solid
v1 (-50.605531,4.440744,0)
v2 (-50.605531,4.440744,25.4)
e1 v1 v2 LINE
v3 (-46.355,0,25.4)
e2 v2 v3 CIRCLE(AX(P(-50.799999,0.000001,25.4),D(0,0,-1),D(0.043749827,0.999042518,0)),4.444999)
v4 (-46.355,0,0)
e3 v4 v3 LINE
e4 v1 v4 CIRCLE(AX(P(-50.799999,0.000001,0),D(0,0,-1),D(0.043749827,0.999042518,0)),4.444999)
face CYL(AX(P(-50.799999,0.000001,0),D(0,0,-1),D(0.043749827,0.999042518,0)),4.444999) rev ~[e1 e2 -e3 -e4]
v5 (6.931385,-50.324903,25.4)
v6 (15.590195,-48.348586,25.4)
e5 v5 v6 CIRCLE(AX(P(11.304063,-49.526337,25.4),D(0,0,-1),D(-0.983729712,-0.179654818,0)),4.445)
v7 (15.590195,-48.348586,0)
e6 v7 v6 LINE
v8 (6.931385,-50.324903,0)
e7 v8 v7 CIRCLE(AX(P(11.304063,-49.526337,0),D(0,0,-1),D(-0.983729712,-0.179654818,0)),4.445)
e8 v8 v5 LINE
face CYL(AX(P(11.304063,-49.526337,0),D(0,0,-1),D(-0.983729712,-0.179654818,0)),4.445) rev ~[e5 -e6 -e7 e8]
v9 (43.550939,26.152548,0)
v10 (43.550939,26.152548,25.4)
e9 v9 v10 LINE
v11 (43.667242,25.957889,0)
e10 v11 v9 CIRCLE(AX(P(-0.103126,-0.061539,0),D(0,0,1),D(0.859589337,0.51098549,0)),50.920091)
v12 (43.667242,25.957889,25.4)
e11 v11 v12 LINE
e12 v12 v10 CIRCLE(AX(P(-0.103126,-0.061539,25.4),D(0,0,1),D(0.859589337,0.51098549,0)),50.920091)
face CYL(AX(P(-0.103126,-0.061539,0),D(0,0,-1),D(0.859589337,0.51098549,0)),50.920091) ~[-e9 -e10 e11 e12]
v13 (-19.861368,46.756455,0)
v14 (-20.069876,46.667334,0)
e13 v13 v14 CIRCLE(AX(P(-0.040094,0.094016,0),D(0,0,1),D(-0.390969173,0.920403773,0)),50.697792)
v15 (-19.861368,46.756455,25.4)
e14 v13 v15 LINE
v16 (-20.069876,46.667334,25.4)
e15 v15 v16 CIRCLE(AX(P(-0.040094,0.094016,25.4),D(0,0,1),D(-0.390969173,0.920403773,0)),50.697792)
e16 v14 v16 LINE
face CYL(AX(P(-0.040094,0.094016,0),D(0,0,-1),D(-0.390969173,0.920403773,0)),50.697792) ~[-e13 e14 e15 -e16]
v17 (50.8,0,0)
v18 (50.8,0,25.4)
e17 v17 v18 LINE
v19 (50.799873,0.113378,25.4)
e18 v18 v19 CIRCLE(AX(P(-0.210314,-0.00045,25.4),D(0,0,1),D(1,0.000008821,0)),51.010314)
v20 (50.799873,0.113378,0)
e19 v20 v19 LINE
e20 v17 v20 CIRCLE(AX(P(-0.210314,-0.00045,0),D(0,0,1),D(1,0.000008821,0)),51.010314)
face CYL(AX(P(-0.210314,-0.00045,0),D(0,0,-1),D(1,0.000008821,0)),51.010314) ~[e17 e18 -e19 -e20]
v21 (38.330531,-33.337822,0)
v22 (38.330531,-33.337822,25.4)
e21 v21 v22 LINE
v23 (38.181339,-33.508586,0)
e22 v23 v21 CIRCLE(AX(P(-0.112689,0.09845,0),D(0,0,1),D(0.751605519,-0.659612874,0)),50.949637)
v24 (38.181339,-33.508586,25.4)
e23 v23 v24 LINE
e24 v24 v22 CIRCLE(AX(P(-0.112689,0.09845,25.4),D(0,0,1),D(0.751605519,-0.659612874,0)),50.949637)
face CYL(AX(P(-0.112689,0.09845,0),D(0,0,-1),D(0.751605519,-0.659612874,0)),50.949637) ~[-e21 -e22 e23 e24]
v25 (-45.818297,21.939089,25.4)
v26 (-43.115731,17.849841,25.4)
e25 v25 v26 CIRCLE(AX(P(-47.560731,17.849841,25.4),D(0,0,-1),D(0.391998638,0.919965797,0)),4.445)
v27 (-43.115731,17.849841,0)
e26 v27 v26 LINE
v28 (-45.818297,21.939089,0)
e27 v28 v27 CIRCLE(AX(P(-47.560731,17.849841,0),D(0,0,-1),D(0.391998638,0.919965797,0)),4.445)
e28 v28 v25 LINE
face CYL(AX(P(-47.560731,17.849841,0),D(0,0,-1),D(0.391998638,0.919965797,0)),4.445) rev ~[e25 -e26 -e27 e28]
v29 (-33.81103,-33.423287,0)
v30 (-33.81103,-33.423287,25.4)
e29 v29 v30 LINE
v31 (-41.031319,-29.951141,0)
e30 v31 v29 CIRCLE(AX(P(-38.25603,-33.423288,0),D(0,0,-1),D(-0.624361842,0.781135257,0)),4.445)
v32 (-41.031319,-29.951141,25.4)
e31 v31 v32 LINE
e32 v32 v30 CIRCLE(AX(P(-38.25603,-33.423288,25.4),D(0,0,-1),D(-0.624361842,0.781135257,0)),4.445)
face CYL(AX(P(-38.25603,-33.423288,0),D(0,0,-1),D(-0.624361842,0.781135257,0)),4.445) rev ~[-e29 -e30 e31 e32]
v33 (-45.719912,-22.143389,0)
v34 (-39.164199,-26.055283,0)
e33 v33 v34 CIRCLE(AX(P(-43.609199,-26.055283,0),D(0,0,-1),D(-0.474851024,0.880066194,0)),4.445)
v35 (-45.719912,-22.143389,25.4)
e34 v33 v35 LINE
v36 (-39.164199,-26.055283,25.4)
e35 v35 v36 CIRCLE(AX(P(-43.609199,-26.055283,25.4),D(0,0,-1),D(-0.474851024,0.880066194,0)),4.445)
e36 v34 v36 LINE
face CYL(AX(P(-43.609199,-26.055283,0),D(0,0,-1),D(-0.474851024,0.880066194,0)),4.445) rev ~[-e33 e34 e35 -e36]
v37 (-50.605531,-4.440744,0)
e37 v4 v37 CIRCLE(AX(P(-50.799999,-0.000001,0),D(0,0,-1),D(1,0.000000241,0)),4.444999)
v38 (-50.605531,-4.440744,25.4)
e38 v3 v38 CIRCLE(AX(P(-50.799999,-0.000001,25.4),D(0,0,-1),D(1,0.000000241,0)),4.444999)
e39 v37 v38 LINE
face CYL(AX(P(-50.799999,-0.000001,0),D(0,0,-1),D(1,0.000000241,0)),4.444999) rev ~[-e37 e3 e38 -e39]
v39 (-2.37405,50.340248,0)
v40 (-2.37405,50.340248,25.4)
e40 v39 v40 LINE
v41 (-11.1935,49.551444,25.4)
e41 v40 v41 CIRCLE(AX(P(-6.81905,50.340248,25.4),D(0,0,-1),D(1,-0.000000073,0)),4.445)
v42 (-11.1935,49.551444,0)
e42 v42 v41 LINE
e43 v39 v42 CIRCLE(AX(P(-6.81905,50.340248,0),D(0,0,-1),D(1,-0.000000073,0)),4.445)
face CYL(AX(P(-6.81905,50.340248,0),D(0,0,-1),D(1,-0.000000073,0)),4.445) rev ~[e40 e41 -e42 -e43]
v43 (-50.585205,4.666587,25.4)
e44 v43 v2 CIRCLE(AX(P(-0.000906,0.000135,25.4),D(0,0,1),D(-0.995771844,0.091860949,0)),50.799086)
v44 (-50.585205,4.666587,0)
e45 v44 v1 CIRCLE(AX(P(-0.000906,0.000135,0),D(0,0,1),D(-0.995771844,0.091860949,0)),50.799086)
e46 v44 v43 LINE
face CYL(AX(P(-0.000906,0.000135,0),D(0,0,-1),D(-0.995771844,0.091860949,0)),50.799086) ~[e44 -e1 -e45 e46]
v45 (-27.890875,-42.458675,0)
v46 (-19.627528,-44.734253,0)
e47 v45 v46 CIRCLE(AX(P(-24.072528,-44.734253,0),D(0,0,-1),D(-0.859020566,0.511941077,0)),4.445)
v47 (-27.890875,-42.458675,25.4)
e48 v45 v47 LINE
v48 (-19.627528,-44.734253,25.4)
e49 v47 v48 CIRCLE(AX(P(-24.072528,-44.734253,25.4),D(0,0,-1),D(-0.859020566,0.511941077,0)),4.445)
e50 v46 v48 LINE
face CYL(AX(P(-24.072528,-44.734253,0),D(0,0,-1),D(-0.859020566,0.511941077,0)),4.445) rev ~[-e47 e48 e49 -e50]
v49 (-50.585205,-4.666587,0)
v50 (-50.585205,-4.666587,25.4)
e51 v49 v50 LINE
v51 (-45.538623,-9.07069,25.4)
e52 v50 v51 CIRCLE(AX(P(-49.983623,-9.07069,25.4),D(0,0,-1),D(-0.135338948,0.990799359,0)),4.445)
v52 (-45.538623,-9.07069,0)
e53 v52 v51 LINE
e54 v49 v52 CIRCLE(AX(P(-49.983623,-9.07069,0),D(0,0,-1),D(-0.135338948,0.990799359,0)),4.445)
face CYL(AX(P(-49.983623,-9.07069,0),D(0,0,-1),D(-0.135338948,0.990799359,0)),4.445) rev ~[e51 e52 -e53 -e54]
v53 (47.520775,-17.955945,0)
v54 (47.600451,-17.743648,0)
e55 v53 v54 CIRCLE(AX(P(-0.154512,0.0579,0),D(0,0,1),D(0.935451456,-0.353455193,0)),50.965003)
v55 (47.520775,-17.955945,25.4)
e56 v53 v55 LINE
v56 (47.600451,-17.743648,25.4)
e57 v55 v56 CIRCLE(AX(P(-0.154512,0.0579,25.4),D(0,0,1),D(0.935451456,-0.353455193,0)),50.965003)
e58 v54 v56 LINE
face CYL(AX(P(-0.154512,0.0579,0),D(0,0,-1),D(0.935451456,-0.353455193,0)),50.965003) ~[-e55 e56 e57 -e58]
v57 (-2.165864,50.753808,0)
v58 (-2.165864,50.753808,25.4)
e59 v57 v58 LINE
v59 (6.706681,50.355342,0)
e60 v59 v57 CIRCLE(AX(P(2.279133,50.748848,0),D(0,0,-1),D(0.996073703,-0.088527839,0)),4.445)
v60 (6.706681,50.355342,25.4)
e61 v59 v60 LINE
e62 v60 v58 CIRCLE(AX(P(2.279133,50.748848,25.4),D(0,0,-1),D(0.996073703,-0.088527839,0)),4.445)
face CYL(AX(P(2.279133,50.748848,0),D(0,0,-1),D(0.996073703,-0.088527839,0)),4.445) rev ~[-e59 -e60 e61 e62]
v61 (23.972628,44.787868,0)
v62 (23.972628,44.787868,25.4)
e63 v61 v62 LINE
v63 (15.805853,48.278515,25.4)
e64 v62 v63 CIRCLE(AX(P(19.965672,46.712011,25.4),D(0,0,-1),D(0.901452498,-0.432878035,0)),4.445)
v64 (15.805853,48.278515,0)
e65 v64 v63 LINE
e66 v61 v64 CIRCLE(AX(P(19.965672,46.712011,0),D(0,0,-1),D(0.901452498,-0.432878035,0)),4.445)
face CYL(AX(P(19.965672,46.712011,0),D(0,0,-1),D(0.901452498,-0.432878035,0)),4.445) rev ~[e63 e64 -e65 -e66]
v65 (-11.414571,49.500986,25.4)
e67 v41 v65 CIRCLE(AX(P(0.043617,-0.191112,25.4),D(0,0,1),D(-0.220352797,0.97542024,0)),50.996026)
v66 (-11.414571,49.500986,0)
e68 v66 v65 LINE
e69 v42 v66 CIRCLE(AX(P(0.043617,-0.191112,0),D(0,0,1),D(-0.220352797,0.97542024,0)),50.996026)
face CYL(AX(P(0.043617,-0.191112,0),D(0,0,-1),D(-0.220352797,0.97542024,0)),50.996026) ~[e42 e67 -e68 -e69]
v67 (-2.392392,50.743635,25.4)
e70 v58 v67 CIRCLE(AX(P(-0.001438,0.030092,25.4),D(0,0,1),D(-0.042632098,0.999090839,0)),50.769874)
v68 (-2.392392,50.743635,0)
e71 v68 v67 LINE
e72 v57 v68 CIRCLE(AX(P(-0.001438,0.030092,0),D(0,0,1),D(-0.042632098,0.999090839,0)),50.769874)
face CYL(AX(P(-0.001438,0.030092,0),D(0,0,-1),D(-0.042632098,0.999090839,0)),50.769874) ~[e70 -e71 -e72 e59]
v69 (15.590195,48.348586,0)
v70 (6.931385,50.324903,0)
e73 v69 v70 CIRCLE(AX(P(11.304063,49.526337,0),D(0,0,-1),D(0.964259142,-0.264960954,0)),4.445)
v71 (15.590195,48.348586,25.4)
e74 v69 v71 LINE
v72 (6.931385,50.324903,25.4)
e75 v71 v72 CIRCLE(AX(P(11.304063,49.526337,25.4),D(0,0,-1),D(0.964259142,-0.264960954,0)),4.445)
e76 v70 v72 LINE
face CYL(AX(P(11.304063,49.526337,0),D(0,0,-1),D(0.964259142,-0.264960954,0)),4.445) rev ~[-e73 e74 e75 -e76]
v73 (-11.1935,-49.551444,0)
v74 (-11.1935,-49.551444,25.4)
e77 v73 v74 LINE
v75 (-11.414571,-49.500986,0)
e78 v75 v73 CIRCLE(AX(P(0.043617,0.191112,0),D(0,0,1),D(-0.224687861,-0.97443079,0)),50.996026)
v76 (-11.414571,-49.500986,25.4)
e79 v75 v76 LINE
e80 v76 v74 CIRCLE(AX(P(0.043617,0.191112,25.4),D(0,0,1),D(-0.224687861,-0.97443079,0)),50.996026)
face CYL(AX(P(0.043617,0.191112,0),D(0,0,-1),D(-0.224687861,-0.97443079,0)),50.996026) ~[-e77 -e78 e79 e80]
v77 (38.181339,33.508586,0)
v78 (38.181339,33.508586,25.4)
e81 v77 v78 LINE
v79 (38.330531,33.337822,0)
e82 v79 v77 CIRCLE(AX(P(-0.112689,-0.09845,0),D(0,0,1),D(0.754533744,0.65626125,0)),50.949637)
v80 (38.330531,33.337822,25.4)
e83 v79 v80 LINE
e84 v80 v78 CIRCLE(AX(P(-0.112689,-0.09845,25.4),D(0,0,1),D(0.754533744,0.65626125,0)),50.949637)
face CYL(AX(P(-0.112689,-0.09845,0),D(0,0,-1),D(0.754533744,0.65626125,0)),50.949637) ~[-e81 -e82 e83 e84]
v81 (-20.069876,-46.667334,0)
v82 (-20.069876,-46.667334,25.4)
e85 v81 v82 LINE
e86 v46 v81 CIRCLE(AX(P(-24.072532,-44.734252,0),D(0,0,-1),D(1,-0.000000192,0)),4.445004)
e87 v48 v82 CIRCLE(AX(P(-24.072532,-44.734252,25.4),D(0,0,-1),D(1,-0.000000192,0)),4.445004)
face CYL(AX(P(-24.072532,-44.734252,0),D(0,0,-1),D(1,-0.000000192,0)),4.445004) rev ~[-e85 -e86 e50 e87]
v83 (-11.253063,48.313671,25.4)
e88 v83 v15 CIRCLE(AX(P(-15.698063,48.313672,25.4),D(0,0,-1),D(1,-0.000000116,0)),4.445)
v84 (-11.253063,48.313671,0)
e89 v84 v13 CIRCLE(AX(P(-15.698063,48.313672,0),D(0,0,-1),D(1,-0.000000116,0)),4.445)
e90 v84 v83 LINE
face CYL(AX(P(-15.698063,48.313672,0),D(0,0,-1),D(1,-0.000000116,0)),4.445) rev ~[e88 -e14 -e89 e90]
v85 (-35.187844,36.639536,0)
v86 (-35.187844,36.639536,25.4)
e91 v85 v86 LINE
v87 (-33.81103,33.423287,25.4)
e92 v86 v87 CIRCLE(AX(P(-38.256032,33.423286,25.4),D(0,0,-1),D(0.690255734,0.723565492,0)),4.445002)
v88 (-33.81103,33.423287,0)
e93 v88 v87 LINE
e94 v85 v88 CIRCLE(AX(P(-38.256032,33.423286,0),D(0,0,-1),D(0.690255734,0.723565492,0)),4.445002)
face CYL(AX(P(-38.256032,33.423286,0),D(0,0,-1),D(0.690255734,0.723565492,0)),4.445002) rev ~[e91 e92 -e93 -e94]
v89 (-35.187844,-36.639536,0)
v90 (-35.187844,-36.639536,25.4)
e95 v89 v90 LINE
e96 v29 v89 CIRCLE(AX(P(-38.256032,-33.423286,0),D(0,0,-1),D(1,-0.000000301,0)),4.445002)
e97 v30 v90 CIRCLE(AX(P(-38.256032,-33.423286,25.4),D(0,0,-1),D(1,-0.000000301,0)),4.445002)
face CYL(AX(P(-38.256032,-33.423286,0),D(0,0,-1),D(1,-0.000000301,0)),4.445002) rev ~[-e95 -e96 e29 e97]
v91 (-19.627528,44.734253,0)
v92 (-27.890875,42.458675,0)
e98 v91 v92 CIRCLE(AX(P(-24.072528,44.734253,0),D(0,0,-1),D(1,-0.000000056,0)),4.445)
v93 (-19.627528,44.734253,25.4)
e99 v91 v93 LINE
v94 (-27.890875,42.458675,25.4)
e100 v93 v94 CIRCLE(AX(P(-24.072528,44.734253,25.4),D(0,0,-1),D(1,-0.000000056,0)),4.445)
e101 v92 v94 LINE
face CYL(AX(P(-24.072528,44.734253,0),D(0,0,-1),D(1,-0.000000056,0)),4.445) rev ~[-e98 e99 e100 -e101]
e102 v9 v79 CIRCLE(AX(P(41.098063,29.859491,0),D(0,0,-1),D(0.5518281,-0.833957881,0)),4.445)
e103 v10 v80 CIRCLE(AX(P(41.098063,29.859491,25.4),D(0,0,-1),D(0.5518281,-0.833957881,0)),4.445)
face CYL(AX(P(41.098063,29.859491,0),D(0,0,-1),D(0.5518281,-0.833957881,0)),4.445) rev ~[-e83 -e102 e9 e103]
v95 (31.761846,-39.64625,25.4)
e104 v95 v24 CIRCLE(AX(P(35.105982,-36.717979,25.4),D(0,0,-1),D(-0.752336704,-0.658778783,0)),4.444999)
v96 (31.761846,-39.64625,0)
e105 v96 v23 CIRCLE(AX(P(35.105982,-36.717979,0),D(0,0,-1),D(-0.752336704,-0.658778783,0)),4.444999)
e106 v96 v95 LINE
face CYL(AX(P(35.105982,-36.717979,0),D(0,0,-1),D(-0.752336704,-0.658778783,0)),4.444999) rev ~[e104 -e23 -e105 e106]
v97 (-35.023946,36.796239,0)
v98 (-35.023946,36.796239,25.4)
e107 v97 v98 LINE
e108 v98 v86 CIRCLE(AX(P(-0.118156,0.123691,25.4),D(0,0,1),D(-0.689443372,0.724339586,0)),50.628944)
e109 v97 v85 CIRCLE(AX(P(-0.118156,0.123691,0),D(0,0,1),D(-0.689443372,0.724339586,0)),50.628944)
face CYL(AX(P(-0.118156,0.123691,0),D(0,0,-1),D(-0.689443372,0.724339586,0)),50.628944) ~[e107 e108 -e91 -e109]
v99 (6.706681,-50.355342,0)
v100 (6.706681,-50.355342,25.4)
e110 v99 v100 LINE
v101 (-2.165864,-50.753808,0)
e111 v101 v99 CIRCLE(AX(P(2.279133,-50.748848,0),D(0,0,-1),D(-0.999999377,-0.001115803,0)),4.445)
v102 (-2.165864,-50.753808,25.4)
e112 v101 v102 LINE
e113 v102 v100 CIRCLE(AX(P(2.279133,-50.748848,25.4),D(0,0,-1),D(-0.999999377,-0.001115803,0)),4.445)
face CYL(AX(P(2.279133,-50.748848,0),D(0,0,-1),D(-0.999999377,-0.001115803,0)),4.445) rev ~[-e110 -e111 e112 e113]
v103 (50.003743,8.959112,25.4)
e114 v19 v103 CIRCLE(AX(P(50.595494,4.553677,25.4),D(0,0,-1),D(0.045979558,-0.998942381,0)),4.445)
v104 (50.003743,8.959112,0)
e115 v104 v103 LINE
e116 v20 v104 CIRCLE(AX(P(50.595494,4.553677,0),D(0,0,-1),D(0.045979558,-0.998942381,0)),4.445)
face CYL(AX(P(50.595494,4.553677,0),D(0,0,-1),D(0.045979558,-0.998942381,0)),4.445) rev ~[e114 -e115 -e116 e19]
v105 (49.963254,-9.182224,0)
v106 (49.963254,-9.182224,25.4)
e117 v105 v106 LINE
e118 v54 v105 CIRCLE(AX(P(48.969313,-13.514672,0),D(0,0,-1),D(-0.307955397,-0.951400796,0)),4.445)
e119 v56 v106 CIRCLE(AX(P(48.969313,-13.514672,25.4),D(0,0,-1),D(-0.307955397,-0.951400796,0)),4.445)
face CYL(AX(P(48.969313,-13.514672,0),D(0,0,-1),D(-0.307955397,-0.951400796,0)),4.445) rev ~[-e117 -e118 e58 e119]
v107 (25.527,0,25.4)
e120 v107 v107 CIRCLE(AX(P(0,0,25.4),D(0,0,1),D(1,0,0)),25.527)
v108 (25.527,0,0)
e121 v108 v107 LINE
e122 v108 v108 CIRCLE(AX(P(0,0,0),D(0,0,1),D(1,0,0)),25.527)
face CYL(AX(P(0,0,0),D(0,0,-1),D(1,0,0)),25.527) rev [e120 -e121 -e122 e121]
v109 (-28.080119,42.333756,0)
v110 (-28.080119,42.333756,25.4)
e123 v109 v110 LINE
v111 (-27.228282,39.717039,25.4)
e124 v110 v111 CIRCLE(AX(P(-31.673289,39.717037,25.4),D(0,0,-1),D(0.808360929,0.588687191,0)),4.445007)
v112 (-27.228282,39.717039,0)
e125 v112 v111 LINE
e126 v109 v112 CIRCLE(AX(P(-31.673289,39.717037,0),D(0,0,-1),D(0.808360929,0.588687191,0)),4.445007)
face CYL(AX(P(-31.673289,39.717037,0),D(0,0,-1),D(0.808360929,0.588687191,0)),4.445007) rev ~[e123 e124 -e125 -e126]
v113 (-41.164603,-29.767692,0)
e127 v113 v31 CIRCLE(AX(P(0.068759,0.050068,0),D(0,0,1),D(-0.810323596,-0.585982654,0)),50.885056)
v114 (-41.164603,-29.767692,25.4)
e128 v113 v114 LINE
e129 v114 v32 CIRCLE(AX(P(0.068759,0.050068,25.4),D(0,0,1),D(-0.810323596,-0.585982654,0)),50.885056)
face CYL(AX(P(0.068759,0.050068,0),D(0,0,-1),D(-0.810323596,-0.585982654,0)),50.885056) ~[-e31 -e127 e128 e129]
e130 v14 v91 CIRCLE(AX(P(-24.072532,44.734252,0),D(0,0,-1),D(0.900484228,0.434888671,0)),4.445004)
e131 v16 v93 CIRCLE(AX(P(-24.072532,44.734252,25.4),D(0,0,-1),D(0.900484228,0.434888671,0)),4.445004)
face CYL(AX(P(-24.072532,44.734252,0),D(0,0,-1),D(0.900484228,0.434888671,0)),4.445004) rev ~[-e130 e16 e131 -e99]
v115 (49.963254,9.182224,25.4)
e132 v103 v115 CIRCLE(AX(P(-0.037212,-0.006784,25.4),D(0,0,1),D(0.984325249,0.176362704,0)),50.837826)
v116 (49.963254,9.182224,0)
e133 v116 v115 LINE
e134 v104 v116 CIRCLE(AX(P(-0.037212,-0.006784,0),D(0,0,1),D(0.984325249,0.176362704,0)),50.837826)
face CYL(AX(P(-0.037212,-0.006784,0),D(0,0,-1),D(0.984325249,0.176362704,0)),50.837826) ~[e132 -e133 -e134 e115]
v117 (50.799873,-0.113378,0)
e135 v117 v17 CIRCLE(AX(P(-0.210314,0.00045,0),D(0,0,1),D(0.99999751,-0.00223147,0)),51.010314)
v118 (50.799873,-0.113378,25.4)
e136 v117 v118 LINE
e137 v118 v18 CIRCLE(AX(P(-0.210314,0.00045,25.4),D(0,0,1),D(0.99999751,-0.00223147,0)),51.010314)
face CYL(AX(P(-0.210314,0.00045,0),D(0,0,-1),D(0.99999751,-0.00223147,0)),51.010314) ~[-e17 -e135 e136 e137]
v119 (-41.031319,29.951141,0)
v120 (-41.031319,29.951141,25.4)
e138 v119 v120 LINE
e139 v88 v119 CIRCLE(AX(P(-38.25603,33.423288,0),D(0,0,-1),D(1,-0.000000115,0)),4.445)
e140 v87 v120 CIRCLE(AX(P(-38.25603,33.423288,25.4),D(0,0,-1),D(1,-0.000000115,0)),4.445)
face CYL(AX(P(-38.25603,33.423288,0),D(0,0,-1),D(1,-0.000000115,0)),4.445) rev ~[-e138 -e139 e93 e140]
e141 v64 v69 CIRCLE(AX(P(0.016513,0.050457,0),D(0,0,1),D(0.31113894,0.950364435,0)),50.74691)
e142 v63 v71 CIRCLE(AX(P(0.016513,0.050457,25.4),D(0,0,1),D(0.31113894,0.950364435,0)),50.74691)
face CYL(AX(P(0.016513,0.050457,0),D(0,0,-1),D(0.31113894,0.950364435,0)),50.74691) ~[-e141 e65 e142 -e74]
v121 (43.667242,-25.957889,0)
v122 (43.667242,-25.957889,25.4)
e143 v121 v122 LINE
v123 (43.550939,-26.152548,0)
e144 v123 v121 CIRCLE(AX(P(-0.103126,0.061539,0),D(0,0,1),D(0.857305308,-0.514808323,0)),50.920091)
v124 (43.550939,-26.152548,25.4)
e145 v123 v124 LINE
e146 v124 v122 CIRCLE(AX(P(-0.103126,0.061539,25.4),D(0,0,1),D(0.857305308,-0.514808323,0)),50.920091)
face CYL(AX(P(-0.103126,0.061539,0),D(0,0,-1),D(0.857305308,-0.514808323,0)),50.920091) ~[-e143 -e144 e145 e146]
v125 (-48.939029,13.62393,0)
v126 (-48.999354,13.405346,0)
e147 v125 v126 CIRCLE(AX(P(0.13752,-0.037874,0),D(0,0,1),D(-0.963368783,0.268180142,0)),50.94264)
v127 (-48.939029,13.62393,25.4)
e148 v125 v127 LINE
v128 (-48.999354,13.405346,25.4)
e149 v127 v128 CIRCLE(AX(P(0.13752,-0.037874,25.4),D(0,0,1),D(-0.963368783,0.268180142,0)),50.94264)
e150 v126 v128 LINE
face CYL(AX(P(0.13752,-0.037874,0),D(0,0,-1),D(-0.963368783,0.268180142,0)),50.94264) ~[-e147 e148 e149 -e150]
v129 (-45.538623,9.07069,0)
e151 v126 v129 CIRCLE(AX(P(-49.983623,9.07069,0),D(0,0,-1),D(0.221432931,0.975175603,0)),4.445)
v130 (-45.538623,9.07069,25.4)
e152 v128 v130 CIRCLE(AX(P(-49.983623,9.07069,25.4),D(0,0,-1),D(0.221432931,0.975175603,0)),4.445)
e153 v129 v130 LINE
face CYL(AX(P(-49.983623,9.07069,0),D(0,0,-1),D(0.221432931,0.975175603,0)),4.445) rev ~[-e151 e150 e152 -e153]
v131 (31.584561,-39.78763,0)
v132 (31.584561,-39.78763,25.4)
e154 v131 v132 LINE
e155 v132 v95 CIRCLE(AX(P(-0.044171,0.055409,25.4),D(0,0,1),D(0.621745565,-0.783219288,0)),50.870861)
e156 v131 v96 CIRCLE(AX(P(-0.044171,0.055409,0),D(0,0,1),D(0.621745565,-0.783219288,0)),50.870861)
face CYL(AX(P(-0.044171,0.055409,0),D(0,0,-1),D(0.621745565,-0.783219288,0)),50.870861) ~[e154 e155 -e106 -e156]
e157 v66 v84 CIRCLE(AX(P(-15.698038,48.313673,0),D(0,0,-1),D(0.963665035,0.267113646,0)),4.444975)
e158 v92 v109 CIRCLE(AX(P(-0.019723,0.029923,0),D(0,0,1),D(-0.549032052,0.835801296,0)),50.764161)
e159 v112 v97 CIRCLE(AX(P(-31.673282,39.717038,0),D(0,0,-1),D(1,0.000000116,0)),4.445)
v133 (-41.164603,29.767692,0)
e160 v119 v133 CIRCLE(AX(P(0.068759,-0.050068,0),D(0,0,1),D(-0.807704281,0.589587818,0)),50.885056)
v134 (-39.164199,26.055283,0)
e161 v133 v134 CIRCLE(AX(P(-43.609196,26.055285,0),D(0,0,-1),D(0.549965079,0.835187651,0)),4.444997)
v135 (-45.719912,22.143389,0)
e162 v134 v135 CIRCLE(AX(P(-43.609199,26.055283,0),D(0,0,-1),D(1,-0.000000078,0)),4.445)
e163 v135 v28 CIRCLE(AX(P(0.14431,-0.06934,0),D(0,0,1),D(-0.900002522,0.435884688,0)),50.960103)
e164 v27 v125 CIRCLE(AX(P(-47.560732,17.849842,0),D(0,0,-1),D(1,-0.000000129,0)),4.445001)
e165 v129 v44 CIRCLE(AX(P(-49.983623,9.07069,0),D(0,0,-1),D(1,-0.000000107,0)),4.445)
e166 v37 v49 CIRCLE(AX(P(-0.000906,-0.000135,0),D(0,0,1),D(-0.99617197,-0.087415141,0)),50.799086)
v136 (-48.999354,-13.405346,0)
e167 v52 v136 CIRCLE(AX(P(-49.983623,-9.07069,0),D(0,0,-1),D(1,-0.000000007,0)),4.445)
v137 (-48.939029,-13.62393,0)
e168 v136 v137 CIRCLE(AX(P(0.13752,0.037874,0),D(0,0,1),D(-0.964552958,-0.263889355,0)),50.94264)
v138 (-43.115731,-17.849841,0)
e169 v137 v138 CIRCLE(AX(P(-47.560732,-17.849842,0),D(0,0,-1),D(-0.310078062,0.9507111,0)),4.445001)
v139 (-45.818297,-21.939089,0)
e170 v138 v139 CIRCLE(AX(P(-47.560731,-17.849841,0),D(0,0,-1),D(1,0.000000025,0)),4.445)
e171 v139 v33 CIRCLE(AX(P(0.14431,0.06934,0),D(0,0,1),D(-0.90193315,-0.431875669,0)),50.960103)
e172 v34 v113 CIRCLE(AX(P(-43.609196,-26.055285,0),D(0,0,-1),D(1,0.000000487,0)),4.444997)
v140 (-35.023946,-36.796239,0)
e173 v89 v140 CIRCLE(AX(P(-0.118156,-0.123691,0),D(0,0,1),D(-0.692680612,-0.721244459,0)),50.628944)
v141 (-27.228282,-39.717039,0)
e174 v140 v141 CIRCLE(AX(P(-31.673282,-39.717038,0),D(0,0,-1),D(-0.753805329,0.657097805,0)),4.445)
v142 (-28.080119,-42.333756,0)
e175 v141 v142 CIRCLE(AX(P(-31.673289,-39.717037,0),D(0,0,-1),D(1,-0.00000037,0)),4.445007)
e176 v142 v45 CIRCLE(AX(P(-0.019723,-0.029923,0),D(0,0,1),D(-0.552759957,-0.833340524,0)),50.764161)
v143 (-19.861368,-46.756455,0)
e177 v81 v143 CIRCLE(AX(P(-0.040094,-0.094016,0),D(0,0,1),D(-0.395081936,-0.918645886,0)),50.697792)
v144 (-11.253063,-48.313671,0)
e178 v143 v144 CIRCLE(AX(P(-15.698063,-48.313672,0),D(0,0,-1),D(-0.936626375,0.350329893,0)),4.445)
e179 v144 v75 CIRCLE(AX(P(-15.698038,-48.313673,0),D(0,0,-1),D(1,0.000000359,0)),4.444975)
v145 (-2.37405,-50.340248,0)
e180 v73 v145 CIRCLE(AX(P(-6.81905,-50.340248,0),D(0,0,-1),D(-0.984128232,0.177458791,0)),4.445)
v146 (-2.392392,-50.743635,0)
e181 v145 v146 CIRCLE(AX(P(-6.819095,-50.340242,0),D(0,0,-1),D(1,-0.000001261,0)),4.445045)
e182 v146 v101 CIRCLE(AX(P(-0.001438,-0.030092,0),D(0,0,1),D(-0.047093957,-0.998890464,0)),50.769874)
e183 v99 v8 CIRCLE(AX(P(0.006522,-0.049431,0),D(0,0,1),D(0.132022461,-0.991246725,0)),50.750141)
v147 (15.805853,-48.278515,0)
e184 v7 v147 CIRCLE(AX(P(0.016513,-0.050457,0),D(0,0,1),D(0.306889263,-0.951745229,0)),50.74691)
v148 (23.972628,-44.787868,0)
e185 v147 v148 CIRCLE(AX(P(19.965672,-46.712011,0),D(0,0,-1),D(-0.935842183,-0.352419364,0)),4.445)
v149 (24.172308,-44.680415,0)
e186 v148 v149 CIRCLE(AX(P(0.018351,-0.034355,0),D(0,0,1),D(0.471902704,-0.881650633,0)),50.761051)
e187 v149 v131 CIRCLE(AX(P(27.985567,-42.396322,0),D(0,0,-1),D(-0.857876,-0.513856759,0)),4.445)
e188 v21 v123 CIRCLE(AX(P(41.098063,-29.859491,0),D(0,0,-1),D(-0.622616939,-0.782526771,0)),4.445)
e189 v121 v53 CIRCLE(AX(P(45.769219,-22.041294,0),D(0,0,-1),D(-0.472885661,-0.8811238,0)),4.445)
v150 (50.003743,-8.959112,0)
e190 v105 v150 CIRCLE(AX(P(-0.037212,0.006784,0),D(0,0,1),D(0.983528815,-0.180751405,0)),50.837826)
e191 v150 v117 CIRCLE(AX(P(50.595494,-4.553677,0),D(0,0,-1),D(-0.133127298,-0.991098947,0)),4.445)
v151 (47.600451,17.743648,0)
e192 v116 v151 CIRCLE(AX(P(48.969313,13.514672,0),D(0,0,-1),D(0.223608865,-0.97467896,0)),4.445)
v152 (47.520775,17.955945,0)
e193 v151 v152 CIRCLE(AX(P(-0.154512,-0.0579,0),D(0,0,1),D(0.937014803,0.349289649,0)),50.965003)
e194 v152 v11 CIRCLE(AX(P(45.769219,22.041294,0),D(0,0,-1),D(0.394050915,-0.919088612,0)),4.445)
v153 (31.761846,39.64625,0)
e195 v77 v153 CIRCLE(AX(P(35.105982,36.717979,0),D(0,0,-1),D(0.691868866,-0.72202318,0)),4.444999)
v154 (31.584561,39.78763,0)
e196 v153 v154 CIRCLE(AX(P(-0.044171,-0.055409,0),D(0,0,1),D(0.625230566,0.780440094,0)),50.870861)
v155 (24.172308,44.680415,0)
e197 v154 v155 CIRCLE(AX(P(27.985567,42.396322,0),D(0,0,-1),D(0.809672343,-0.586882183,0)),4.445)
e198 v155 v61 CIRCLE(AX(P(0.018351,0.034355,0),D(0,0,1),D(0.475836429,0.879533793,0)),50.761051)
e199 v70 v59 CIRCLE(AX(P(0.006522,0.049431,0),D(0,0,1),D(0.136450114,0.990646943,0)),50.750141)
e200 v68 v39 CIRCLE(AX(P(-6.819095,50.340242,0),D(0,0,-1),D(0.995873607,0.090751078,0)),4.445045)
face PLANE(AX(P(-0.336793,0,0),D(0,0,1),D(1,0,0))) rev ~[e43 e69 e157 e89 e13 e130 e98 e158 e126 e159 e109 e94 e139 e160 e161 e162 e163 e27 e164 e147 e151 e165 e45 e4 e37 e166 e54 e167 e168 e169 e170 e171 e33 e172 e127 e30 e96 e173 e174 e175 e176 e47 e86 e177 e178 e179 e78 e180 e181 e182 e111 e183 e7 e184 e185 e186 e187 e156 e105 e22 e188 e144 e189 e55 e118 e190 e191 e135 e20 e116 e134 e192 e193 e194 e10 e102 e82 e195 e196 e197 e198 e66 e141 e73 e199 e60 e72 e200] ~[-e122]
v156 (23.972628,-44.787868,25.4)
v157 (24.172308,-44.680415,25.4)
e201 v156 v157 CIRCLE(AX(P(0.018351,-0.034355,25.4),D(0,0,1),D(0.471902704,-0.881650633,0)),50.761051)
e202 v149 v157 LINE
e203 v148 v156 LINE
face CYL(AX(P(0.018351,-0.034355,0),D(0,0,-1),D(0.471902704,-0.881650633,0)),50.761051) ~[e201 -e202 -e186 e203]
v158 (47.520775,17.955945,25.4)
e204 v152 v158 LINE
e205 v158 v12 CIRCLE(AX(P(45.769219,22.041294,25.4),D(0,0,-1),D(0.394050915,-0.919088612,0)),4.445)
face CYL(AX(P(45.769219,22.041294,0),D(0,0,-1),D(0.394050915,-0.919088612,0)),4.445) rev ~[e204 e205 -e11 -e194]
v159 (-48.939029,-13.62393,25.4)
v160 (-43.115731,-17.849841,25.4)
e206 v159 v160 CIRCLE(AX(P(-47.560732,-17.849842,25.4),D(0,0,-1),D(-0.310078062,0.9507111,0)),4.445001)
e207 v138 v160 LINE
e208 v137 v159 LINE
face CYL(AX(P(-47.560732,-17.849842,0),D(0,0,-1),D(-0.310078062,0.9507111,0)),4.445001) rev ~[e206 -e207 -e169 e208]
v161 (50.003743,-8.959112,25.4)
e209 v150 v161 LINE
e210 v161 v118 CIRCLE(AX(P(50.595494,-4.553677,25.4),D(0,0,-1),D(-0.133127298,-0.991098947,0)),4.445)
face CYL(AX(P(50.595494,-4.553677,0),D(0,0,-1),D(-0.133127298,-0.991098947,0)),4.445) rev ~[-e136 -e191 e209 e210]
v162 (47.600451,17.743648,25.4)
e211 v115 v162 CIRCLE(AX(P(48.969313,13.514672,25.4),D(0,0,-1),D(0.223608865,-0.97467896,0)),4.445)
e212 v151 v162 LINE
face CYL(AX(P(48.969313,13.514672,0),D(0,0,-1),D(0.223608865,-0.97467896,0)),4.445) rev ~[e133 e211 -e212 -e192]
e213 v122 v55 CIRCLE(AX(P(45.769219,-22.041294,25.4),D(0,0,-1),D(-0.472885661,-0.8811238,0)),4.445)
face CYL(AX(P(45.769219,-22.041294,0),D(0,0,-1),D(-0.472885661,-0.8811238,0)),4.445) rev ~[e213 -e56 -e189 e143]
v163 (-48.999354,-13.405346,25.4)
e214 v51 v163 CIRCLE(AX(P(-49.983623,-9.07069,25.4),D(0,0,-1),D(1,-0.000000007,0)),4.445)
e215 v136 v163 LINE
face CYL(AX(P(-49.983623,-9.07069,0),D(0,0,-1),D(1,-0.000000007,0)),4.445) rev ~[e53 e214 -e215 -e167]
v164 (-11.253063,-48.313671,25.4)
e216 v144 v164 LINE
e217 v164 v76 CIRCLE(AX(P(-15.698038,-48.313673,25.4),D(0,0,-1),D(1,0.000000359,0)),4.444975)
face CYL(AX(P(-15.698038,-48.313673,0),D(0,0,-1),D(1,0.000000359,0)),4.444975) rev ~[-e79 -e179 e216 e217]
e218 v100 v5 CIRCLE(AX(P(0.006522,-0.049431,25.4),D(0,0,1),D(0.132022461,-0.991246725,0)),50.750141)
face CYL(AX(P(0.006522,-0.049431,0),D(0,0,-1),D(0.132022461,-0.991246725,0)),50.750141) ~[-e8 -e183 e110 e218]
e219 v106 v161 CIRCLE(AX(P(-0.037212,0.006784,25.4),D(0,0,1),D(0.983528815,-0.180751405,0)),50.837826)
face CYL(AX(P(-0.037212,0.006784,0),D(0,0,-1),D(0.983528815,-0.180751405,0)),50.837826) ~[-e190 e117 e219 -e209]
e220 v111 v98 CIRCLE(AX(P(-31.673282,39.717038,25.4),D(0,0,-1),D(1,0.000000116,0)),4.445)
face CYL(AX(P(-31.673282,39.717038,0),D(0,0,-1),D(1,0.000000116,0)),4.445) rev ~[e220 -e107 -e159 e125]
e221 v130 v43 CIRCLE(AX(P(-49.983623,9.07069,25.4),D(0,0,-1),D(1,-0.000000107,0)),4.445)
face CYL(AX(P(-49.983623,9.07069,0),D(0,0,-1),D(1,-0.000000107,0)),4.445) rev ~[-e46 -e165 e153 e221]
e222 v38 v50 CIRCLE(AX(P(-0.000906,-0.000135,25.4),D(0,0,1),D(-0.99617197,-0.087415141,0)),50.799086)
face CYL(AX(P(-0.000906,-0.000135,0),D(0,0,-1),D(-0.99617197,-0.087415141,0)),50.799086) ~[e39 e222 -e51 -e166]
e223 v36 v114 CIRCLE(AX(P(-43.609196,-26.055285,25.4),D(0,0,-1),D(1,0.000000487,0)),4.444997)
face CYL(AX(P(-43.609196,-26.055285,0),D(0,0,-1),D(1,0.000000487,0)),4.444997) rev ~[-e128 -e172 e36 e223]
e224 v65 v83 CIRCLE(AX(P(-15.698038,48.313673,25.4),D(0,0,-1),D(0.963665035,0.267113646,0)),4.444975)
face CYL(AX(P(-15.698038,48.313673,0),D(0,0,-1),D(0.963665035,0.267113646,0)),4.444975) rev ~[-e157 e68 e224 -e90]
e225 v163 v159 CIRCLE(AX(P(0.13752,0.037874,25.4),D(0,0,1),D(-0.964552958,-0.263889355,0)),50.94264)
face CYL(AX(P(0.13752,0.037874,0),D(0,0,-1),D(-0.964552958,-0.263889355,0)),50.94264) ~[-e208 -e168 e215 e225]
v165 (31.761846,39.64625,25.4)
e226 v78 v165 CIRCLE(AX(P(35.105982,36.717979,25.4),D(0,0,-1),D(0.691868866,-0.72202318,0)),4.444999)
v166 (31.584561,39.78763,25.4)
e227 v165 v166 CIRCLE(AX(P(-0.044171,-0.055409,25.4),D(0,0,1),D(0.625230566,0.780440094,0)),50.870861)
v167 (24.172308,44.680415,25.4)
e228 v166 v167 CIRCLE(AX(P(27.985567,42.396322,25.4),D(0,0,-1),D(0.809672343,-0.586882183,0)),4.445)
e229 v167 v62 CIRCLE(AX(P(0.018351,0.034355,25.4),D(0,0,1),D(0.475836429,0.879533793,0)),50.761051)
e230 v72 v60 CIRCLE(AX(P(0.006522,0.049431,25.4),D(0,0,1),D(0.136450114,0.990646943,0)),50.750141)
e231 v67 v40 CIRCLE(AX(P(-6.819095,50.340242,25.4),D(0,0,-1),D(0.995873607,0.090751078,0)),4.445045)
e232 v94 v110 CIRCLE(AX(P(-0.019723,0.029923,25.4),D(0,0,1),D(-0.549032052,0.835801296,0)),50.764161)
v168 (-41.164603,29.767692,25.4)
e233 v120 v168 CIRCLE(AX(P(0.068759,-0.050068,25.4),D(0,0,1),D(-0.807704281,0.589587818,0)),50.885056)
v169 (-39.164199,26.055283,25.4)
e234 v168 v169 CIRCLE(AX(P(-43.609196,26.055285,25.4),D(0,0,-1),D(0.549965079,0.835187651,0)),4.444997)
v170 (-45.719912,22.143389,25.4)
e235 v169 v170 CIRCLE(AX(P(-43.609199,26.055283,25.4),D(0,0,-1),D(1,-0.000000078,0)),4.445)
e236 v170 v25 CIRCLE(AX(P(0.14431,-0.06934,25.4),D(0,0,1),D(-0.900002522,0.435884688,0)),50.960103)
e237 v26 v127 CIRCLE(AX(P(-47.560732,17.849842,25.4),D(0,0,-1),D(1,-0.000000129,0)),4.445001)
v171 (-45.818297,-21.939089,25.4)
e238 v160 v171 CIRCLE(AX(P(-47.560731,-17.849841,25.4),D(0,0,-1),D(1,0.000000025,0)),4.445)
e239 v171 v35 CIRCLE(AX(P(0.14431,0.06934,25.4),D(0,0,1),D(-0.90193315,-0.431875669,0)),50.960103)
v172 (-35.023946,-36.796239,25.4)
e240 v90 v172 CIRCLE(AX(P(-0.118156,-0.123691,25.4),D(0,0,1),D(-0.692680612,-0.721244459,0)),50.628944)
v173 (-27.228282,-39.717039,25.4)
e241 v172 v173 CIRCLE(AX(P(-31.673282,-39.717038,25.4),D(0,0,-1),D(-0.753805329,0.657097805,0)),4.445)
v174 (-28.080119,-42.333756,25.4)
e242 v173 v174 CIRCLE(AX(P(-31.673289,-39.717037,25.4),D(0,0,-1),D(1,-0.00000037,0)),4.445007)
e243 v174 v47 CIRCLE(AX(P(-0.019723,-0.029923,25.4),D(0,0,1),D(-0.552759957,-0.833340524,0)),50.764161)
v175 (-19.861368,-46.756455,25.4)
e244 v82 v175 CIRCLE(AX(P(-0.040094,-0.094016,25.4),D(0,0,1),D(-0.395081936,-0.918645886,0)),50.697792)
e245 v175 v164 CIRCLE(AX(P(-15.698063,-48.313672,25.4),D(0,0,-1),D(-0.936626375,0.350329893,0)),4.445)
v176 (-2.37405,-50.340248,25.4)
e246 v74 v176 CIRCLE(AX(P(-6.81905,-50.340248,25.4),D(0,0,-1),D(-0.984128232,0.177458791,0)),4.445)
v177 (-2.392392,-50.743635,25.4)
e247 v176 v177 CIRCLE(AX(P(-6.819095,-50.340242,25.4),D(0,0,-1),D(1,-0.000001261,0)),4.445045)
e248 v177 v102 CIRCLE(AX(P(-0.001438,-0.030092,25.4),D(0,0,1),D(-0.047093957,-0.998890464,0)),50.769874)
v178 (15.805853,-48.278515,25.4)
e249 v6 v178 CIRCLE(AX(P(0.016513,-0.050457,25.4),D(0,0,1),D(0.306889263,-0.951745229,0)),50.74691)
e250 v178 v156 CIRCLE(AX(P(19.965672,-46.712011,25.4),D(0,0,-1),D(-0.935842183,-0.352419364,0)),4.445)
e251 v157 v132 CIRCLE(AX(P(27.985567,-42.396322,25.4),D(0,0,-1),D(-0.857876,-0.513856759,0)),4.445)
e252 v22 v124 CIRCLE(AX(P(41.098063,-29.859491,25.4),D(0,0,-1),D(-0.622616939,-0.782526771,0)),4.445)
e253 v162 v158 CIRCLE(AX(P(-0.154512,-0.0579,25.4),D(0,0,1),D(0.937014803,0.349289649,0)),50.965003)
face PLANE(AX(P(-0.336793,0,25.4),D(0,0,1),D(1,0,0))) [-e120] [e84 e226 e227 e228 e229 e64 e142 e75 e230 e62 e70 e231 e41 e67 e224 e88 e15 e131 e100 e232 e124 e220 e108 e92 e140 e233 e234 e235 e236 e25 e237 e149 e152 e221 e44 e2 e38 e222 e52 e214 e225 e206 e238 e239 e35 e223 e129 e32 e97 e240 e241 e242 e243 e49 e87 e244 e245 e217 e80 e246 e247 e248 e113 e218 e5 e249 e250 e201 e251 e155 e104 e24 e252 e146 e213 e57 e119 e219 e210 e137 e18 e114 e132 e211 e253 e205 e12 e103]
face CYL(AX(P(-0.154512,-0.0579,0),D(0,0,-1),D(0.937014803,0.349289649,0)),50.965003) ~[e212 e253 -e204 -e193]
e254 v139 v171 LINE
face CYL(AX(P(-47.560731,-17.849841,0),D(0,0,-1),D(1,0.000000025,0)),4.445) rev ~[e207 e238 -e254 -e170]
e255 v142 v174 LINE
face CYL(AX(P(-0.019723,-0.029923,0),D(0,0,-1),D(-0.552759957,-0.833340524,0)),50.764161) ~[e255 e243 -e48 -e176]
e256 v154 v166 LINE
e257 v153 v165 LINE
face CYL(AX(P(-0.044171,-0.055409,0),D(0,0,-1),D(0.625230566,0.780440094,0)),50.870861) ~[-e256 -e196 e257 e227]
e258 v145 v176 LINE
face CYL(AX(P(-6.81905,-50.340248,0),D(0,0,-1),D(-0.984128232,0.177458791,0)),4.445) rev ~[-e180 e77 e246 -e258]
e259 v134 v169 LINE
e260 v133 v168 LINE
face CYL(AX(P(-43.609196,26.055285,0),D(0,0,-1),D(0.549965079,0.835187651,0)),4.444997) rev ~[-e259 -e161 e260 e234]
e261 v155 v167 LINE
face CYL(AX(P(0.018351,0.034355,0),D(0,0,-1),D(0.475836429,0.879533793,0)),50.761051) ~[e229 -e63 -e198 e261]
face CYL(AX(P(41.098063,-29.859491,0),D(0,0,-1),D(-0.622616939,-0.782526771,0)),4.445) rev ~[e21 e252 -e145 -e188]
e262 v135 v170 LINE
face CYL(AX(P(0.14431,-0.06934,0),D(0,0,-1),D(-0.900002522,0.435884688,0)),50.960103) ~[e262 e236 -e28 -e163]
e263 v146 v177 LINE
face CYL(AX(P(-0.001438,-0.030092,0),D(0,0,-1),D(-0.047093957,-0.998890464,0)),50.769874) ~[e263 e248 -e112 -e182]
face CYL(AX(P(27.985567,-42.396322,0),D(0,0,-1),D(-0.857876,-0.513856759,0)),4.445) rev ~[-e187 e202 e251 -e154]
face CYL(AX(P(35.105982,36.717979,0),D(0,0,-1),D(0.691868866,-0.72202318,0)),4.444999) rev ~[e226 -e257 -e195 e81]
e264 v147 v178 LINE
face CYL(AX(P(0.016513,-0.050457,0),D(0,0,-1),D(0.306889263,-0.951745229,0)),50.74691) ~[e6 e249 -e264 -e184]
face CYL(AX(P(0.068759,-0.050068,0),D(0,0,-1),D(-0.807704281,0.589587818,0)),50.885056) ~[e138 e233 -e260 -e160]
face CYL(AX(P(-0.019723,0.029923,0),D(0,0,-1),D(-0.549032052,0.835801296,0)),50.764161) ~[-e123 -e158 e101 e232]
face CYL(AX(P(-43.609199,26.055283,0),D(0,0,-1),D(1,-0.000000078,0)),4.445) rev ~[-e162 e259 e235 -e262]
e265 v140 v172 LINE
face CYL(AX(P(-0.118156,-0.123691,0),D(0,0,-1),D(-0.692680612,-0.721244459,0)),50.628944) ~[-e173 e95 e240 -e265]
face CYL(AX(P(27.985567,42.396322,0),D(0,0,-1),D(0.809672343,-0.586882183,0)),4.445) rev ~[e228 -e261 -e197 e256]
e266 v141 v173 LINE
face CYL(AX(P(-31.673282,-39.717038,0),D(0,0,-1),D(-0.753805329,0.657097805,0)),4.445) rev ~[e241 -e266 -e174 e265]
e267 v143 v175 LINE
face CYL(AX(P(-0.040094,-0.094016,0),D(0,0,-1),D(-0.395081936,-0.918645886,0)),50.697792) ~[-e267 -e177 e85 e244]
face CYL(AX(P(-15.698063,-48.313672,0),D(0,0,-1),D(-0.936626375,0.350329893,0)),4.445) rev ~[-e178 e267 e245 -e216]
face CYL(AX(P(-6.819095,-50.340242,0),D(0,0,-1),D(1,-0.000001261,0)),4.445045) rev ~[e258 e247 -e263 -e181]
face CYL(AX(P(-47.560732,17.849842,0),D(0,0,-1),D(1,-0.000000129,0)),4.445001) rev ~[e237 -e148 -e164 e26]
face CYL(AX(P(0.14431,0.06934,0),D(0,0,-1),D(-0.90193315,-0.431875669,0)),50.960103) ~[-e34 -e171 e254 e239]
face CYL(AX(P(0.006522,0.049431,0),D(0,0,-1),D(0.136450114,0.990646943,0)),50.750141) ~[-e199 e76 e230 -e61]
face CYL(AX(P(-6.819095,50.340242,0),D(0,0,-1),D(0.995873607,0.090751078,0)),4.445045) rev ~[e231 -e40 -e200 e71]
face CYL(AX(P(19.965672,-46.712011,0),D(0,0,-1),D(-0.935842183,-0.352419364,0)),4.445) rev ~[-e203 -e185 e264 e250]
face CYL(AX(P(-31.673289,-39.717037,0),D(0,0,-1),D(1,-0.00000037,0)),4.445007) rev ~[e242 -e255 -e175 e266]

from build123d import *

# Parameters (mm, degrees)
F0_R     = 25.527
F1_DEPTH = 25.4


with BuildPart() as f1:
    # F0 (on Top) → F1 (new body)
    with BuildSketch(Plane.XY):
        with BuildLine():
            ThreePointArc((50.799873, -0.113378), (50.799968, -0.056689), (50.8, 0))
            ThreePointArc((50.8, 0), (50.799968, 0.056689), (50.799873, 0.113378))
            ThreePointArc((50.799873, 0.113378), (46.168388, 4.15523), (50.003743, 8.959112))
            ThreePointArc((50.003743, 8.959112), (49.983623, 9.07069), (49.963254, 9.182224))
            ThreePointArc((49.963254, 9.182224), (44.684498, 12.332138), (47.600451, 17.743648))
            ThreePointArc((47.600451, 17.743648), (47.560731, 17.849841), (47.520775, 17.955945))
            ThreePointArc((47.520775, 17.955945), (41.764412, 20.112681), (43.667242, 25.957889))
            ThreePointArc((43.667242, 25.957889), (43.609199, 26.055283), (43.550939, 26.152548))
            ThreePointArc((43.550939, 26.152548), (37.501983, 27.246785), (38.330531, 33.337822))
            ThreePointArc((38.330531, 33.337822), (38.25603, 33.423287), (38.181339, 33.508586))
            ThreePointArc((38.181339, 33.508586), (32.034209, 33.505156), (31.761846, 39.64625))
            ThreePointArc((31.761846, 39.64625), (31.673282, 39.717039), (31.584561, 39.78763))
            ThreePointArc((31.584561, 39.78763), (25.53683, 38.686643), (24.172308, 44.680415))
            ThreePointArc((24.172308, 44.680415), (24.072528, 44.734253), (23.972628, 44.787868))
            ThreePointArc((23.972628, 44.787868), (18.218675, 42.62471), (15.805853, 48.278515))
            ThreePointArc((15.805853, 48.278515), (15.698063, 48.313671), (15.590195, 48.348586))
            ThreePointArc((15.590195, 48.348586), (10.314958, 45.192783), (6.931385, 50.324903))
            ThreePointArc((6.931385, 50.324903), (6.81905, 50.340248), (6.706681, 50.355342))
            ThreePointArc((6.706681, 50.355342), (2.079709, 46.308324), (-2.165864, 50.753808))
            ThreePointArc((-2.165864, 50.753808), (-2.279133, 50.748848), (-2.392392, 50.743635))
            ThreePointArc((-2.392392, 50.743635), (-2.378638, 50.54215), (-2.37405, 50.340248))
            ThreePointArc((-2.37405, 50.340248), (-6.423073, 45.912921), (-11.1935, 49.551444))
            ThreePointArc((-11.1935, 49.551444), (-11.304063, 49.526338), (-11.414571, 49.500986))
            ThreePointArc((-11.414571, 49.500986), (-11.293625, 48.912796), (-11.253063, 48.313671))
            ThreePointArc((-11.253063, 48.313671), (-14.906818, 43.939662), (-19.861368, 46.756455))
            ThreePointArc((-19.861368, 46.756455), (-19.965672, 46.712011), (-20.069876, 46.667334))
            ThreePointArc((-20.069876, 46.667334), (-19.739526, 45.725776), (-19.627528, 44.734253))
            ThreePointArc((-19.627528, 44.734253), (-22.892385, 40.448779), (-27.890875, 42.458675))
            ThreePointArc((-27.890875, 42.458675), (-27.985567, 42.396321), (-28.080119, 42.333756))
            ThreePointArc((-28.080119, 42.333756), (-27.446603, 41.092978), (-27.228282, 39.717039))
            ThreePointArc((-27.228282, 39.717039), (-30.113743, 35.554604), (-35.023946, 36.796239))
            ThreePointArc((-35.023946, 36.796239), (-35.105983, 36.717979), (-35.187844, 36.639536))
            ThreePointArc((-35.187844, 36.639536), (-34.169705, 35.172564), (-33.81103, 33.423287))
            ThreePointArc((-33.81103, 33.423287), (-36.329652, 29.417405), (-41.031319, 29.951141))
            ThreePointArc((-41.031319, 29.951141), (-41.098063, 29.859491), (-41.164603, 29.767692))
            ThreePointArc((-41.164603, 29.767692), (-39.696127, 28.163813), (-39.164199, 26.055283))
            ThreePointArc((-39.164199, 26.055283), (-41.331491, 22.238207), (-45.719912, 22.143389))
            ThreePointArc((-45.719912, 22.143389), (-45.769218, 22.041294), (-45.818297, 21.939089))
            ThreePointArc((-45.818297, 21.939089), (-43.85242, 20.300648), (-43.115731, 17.849841))
            ThreePointArc((-43.115731, 17.849841), (-44.950033, 14.252303), (-48.939029, 13.62393))
            ThreePointArc((-48.939029, 13.62393), (-48.969313, 13.514672), (-48.999354, 13.405346))
            ThreePointArc((-48.999354, 13.405346), (-46.509929, 11.844041), (-45.538623, 9.07069))
            ThreePointArc((-45.538623, 9.07069), (-47.060954, 5.721656), (-50.585205, 4.666587))
            ThreePointArc((-50.585205, 4.666587), (-50.595494, 4.553677), (-50.605531, 4.440744))
            ThreePointArc((-50.605531, 4.440744), (-47.588891, 3.073566), (-46.355, 0))
            ThreePointArc((-46.355, 0), (-47.588891, -3.073566), (-50.605531, -4.440744))
            ThreePointArc((-50.605531, -4.440744), (-50.595494, -4.553677), (-50.585205, -4.666587))
            ThreePointArc((-50.585205, -4.666587), (-47.060954, -5.721656), (-45.538623, -9.07069))
            ThreePointArc((-45.538623, -9.07069), (-46.509929, -11.844041), (-48.999354, -13.405346))
            ThreePointArc((-48.999354, -13.405346), (-48.969313, -13.514672), (-48.939029, -13.62393))
            ThreePointArc((-48.939029, -13.62393), (-44.950033, -14.252303), (-43.115731, -17.849841))
            ThreePointArc((-43.115731, -17.849841), (-43.85242, -20.300648), (-45.818297, -21.939089))
            ThreePointArc((-45.818297, -21.939089), (-45.769218, -22.041294), (-45.719912, -22.143389))
            ThreePointArc((-45.719912, -22.143389), (-41.331491, -22.238207), (-39.164199, -26.055283))
            ThreePointArc((-39.164199, -26.055283), (-39.696127, -28.163813), (-41.164603, -29.767692))
            ThreePointArc((-41.164603, -29.767692), (-41.098063, -29.859491), (-41.031319, -29.951141))
            ThreePointArc((-41.031319, -29.951141), (-36.329652, -29.417405), (-33.81103, -33.423287))
            ThreePointArc((-33.81103, -33.423287), (-34.169705, -35.172564), (-35.187844, -36.639536))
            ThreePointArc((-35.187844, -36.639536), (-35.105983, -36.717979), (-35.023946, -36.796239))
            ThreePointArc((-35.023946, -36.796239), (-30.113743, -35.554604), (-27.228282, -39.717039))
            ThreePointArc((-27.228282, -39.717039), (-27.446603, -41.092978), (-28.080119, -42.333756))
            ThreePointArc((-28.080119, -42.333756), (-27.985567, -42.396321), (-27.890875, -42.458675))
            ThreePointArc((-27.890875, -42.458675), (-22.892385, -40.448779), (-19.627528, -44.734253))
            ThreePointArc((-19.627528, -44.734253), (-19.739526, -45.725776), (-20.069876, -46.667334))
            ThreePointArc((-20.069876, -46.667334), (-19.965672, -46.712011), (-19.861368, -46.756455))
            ThreePointArc((-19.861368, -46.756455), (-14.906818, -43.939662), (-11.253063, -48.313671))
            ThreePointArc((-11.253063, -48.313671), (-11.293625, -48.912796), (-11.414571, -49.500986))
            ThreePointArc((-11.414571, -49.500986), (-11.304063, -49.526338), (-11.1935, -49.551444))
            ThreePointArc((-11.1935, -49.551444), (-6.423073, -45.912921), (-2.37405, -50.340248))
            ThreePointArc((-2.37405, -50.340248), (-2.378638, -50.54215), (-2.392392, -50.743635))
            ThreePointArc((-2.392392, -50.743635), (-2.279133, -50.748848), (-2.165864, -50.753808))
            ThreePointArc((-2.165864, -50.753808), (2.079709, -46.308324), (6.706681, -50.355342))
            ThreePointArc((6.706681, -50.355342), (6.81905, -50.340248), (6.931385, -50.324903))
            ThreePointArc((6.931385, -50.324903), (10.314958, -45.192783), (15.590195, -48.348586))
            ThreePointArc((15.590195, -48.348586), (15.698063, -48.313671), (15.805853, -48.278515))
            ThreePointArc((15.805853, -48.278515), (18.218675, -42.62471), (23.972628, -44.787868))
            ThreePointArc((23.972628, -44.787868), (24.072528, -44.734253), (24.172308, -44.680415))
            ThreePointArc((24.172308, -44.680415), (25.53683, -38.686643), (31.584561, -39.78763))
            ThreePointArc((31.584561, -39.78763), (31.673282, -39.717039), (31.761846, -39.64625))
            ThreePointArc((31.761846, -39.64625), (32.034209, -33.505156), (38.181339, -33.508586))
            ThreePointArc((38.181339, -33.508586), (38.25603, -33.423287), (38.330531, -33.337822))
            ThreePointArc((38.330531, -33.337822), (37.501983, -27.246785), (43.550939, -26.152548))
            ThreePointArc((43.550939, -26.152548), (43.609199, -26.055283), (43.667242, -25.957889))
            ThreePointArc((43.667242, -25.957889), (41.764412, -20.112681), (47.520775, -17.955945))
            ThreePointArc((47.520775, -17.955945), (47.560731, -17.849841), (47.600451, -17.743648))
            ThreePointArc((47.600451, -17.743648), (44.684498, -12.332138), (49.963254, -9.182224))
            ThreePointArc((49.963254, -9.182224), (49.983623, -9.07069), (50.003743, -8.959112))
            ThreePointArc((50.003743, -8.959112), (46.168388, -4.15523), (50.799873, -0.113378))
        make_face()
        Circle(F0_R, mode=Mode.SUBTRACT)
    extrude(amount=F1_DEPTH)


solid = f1.part
